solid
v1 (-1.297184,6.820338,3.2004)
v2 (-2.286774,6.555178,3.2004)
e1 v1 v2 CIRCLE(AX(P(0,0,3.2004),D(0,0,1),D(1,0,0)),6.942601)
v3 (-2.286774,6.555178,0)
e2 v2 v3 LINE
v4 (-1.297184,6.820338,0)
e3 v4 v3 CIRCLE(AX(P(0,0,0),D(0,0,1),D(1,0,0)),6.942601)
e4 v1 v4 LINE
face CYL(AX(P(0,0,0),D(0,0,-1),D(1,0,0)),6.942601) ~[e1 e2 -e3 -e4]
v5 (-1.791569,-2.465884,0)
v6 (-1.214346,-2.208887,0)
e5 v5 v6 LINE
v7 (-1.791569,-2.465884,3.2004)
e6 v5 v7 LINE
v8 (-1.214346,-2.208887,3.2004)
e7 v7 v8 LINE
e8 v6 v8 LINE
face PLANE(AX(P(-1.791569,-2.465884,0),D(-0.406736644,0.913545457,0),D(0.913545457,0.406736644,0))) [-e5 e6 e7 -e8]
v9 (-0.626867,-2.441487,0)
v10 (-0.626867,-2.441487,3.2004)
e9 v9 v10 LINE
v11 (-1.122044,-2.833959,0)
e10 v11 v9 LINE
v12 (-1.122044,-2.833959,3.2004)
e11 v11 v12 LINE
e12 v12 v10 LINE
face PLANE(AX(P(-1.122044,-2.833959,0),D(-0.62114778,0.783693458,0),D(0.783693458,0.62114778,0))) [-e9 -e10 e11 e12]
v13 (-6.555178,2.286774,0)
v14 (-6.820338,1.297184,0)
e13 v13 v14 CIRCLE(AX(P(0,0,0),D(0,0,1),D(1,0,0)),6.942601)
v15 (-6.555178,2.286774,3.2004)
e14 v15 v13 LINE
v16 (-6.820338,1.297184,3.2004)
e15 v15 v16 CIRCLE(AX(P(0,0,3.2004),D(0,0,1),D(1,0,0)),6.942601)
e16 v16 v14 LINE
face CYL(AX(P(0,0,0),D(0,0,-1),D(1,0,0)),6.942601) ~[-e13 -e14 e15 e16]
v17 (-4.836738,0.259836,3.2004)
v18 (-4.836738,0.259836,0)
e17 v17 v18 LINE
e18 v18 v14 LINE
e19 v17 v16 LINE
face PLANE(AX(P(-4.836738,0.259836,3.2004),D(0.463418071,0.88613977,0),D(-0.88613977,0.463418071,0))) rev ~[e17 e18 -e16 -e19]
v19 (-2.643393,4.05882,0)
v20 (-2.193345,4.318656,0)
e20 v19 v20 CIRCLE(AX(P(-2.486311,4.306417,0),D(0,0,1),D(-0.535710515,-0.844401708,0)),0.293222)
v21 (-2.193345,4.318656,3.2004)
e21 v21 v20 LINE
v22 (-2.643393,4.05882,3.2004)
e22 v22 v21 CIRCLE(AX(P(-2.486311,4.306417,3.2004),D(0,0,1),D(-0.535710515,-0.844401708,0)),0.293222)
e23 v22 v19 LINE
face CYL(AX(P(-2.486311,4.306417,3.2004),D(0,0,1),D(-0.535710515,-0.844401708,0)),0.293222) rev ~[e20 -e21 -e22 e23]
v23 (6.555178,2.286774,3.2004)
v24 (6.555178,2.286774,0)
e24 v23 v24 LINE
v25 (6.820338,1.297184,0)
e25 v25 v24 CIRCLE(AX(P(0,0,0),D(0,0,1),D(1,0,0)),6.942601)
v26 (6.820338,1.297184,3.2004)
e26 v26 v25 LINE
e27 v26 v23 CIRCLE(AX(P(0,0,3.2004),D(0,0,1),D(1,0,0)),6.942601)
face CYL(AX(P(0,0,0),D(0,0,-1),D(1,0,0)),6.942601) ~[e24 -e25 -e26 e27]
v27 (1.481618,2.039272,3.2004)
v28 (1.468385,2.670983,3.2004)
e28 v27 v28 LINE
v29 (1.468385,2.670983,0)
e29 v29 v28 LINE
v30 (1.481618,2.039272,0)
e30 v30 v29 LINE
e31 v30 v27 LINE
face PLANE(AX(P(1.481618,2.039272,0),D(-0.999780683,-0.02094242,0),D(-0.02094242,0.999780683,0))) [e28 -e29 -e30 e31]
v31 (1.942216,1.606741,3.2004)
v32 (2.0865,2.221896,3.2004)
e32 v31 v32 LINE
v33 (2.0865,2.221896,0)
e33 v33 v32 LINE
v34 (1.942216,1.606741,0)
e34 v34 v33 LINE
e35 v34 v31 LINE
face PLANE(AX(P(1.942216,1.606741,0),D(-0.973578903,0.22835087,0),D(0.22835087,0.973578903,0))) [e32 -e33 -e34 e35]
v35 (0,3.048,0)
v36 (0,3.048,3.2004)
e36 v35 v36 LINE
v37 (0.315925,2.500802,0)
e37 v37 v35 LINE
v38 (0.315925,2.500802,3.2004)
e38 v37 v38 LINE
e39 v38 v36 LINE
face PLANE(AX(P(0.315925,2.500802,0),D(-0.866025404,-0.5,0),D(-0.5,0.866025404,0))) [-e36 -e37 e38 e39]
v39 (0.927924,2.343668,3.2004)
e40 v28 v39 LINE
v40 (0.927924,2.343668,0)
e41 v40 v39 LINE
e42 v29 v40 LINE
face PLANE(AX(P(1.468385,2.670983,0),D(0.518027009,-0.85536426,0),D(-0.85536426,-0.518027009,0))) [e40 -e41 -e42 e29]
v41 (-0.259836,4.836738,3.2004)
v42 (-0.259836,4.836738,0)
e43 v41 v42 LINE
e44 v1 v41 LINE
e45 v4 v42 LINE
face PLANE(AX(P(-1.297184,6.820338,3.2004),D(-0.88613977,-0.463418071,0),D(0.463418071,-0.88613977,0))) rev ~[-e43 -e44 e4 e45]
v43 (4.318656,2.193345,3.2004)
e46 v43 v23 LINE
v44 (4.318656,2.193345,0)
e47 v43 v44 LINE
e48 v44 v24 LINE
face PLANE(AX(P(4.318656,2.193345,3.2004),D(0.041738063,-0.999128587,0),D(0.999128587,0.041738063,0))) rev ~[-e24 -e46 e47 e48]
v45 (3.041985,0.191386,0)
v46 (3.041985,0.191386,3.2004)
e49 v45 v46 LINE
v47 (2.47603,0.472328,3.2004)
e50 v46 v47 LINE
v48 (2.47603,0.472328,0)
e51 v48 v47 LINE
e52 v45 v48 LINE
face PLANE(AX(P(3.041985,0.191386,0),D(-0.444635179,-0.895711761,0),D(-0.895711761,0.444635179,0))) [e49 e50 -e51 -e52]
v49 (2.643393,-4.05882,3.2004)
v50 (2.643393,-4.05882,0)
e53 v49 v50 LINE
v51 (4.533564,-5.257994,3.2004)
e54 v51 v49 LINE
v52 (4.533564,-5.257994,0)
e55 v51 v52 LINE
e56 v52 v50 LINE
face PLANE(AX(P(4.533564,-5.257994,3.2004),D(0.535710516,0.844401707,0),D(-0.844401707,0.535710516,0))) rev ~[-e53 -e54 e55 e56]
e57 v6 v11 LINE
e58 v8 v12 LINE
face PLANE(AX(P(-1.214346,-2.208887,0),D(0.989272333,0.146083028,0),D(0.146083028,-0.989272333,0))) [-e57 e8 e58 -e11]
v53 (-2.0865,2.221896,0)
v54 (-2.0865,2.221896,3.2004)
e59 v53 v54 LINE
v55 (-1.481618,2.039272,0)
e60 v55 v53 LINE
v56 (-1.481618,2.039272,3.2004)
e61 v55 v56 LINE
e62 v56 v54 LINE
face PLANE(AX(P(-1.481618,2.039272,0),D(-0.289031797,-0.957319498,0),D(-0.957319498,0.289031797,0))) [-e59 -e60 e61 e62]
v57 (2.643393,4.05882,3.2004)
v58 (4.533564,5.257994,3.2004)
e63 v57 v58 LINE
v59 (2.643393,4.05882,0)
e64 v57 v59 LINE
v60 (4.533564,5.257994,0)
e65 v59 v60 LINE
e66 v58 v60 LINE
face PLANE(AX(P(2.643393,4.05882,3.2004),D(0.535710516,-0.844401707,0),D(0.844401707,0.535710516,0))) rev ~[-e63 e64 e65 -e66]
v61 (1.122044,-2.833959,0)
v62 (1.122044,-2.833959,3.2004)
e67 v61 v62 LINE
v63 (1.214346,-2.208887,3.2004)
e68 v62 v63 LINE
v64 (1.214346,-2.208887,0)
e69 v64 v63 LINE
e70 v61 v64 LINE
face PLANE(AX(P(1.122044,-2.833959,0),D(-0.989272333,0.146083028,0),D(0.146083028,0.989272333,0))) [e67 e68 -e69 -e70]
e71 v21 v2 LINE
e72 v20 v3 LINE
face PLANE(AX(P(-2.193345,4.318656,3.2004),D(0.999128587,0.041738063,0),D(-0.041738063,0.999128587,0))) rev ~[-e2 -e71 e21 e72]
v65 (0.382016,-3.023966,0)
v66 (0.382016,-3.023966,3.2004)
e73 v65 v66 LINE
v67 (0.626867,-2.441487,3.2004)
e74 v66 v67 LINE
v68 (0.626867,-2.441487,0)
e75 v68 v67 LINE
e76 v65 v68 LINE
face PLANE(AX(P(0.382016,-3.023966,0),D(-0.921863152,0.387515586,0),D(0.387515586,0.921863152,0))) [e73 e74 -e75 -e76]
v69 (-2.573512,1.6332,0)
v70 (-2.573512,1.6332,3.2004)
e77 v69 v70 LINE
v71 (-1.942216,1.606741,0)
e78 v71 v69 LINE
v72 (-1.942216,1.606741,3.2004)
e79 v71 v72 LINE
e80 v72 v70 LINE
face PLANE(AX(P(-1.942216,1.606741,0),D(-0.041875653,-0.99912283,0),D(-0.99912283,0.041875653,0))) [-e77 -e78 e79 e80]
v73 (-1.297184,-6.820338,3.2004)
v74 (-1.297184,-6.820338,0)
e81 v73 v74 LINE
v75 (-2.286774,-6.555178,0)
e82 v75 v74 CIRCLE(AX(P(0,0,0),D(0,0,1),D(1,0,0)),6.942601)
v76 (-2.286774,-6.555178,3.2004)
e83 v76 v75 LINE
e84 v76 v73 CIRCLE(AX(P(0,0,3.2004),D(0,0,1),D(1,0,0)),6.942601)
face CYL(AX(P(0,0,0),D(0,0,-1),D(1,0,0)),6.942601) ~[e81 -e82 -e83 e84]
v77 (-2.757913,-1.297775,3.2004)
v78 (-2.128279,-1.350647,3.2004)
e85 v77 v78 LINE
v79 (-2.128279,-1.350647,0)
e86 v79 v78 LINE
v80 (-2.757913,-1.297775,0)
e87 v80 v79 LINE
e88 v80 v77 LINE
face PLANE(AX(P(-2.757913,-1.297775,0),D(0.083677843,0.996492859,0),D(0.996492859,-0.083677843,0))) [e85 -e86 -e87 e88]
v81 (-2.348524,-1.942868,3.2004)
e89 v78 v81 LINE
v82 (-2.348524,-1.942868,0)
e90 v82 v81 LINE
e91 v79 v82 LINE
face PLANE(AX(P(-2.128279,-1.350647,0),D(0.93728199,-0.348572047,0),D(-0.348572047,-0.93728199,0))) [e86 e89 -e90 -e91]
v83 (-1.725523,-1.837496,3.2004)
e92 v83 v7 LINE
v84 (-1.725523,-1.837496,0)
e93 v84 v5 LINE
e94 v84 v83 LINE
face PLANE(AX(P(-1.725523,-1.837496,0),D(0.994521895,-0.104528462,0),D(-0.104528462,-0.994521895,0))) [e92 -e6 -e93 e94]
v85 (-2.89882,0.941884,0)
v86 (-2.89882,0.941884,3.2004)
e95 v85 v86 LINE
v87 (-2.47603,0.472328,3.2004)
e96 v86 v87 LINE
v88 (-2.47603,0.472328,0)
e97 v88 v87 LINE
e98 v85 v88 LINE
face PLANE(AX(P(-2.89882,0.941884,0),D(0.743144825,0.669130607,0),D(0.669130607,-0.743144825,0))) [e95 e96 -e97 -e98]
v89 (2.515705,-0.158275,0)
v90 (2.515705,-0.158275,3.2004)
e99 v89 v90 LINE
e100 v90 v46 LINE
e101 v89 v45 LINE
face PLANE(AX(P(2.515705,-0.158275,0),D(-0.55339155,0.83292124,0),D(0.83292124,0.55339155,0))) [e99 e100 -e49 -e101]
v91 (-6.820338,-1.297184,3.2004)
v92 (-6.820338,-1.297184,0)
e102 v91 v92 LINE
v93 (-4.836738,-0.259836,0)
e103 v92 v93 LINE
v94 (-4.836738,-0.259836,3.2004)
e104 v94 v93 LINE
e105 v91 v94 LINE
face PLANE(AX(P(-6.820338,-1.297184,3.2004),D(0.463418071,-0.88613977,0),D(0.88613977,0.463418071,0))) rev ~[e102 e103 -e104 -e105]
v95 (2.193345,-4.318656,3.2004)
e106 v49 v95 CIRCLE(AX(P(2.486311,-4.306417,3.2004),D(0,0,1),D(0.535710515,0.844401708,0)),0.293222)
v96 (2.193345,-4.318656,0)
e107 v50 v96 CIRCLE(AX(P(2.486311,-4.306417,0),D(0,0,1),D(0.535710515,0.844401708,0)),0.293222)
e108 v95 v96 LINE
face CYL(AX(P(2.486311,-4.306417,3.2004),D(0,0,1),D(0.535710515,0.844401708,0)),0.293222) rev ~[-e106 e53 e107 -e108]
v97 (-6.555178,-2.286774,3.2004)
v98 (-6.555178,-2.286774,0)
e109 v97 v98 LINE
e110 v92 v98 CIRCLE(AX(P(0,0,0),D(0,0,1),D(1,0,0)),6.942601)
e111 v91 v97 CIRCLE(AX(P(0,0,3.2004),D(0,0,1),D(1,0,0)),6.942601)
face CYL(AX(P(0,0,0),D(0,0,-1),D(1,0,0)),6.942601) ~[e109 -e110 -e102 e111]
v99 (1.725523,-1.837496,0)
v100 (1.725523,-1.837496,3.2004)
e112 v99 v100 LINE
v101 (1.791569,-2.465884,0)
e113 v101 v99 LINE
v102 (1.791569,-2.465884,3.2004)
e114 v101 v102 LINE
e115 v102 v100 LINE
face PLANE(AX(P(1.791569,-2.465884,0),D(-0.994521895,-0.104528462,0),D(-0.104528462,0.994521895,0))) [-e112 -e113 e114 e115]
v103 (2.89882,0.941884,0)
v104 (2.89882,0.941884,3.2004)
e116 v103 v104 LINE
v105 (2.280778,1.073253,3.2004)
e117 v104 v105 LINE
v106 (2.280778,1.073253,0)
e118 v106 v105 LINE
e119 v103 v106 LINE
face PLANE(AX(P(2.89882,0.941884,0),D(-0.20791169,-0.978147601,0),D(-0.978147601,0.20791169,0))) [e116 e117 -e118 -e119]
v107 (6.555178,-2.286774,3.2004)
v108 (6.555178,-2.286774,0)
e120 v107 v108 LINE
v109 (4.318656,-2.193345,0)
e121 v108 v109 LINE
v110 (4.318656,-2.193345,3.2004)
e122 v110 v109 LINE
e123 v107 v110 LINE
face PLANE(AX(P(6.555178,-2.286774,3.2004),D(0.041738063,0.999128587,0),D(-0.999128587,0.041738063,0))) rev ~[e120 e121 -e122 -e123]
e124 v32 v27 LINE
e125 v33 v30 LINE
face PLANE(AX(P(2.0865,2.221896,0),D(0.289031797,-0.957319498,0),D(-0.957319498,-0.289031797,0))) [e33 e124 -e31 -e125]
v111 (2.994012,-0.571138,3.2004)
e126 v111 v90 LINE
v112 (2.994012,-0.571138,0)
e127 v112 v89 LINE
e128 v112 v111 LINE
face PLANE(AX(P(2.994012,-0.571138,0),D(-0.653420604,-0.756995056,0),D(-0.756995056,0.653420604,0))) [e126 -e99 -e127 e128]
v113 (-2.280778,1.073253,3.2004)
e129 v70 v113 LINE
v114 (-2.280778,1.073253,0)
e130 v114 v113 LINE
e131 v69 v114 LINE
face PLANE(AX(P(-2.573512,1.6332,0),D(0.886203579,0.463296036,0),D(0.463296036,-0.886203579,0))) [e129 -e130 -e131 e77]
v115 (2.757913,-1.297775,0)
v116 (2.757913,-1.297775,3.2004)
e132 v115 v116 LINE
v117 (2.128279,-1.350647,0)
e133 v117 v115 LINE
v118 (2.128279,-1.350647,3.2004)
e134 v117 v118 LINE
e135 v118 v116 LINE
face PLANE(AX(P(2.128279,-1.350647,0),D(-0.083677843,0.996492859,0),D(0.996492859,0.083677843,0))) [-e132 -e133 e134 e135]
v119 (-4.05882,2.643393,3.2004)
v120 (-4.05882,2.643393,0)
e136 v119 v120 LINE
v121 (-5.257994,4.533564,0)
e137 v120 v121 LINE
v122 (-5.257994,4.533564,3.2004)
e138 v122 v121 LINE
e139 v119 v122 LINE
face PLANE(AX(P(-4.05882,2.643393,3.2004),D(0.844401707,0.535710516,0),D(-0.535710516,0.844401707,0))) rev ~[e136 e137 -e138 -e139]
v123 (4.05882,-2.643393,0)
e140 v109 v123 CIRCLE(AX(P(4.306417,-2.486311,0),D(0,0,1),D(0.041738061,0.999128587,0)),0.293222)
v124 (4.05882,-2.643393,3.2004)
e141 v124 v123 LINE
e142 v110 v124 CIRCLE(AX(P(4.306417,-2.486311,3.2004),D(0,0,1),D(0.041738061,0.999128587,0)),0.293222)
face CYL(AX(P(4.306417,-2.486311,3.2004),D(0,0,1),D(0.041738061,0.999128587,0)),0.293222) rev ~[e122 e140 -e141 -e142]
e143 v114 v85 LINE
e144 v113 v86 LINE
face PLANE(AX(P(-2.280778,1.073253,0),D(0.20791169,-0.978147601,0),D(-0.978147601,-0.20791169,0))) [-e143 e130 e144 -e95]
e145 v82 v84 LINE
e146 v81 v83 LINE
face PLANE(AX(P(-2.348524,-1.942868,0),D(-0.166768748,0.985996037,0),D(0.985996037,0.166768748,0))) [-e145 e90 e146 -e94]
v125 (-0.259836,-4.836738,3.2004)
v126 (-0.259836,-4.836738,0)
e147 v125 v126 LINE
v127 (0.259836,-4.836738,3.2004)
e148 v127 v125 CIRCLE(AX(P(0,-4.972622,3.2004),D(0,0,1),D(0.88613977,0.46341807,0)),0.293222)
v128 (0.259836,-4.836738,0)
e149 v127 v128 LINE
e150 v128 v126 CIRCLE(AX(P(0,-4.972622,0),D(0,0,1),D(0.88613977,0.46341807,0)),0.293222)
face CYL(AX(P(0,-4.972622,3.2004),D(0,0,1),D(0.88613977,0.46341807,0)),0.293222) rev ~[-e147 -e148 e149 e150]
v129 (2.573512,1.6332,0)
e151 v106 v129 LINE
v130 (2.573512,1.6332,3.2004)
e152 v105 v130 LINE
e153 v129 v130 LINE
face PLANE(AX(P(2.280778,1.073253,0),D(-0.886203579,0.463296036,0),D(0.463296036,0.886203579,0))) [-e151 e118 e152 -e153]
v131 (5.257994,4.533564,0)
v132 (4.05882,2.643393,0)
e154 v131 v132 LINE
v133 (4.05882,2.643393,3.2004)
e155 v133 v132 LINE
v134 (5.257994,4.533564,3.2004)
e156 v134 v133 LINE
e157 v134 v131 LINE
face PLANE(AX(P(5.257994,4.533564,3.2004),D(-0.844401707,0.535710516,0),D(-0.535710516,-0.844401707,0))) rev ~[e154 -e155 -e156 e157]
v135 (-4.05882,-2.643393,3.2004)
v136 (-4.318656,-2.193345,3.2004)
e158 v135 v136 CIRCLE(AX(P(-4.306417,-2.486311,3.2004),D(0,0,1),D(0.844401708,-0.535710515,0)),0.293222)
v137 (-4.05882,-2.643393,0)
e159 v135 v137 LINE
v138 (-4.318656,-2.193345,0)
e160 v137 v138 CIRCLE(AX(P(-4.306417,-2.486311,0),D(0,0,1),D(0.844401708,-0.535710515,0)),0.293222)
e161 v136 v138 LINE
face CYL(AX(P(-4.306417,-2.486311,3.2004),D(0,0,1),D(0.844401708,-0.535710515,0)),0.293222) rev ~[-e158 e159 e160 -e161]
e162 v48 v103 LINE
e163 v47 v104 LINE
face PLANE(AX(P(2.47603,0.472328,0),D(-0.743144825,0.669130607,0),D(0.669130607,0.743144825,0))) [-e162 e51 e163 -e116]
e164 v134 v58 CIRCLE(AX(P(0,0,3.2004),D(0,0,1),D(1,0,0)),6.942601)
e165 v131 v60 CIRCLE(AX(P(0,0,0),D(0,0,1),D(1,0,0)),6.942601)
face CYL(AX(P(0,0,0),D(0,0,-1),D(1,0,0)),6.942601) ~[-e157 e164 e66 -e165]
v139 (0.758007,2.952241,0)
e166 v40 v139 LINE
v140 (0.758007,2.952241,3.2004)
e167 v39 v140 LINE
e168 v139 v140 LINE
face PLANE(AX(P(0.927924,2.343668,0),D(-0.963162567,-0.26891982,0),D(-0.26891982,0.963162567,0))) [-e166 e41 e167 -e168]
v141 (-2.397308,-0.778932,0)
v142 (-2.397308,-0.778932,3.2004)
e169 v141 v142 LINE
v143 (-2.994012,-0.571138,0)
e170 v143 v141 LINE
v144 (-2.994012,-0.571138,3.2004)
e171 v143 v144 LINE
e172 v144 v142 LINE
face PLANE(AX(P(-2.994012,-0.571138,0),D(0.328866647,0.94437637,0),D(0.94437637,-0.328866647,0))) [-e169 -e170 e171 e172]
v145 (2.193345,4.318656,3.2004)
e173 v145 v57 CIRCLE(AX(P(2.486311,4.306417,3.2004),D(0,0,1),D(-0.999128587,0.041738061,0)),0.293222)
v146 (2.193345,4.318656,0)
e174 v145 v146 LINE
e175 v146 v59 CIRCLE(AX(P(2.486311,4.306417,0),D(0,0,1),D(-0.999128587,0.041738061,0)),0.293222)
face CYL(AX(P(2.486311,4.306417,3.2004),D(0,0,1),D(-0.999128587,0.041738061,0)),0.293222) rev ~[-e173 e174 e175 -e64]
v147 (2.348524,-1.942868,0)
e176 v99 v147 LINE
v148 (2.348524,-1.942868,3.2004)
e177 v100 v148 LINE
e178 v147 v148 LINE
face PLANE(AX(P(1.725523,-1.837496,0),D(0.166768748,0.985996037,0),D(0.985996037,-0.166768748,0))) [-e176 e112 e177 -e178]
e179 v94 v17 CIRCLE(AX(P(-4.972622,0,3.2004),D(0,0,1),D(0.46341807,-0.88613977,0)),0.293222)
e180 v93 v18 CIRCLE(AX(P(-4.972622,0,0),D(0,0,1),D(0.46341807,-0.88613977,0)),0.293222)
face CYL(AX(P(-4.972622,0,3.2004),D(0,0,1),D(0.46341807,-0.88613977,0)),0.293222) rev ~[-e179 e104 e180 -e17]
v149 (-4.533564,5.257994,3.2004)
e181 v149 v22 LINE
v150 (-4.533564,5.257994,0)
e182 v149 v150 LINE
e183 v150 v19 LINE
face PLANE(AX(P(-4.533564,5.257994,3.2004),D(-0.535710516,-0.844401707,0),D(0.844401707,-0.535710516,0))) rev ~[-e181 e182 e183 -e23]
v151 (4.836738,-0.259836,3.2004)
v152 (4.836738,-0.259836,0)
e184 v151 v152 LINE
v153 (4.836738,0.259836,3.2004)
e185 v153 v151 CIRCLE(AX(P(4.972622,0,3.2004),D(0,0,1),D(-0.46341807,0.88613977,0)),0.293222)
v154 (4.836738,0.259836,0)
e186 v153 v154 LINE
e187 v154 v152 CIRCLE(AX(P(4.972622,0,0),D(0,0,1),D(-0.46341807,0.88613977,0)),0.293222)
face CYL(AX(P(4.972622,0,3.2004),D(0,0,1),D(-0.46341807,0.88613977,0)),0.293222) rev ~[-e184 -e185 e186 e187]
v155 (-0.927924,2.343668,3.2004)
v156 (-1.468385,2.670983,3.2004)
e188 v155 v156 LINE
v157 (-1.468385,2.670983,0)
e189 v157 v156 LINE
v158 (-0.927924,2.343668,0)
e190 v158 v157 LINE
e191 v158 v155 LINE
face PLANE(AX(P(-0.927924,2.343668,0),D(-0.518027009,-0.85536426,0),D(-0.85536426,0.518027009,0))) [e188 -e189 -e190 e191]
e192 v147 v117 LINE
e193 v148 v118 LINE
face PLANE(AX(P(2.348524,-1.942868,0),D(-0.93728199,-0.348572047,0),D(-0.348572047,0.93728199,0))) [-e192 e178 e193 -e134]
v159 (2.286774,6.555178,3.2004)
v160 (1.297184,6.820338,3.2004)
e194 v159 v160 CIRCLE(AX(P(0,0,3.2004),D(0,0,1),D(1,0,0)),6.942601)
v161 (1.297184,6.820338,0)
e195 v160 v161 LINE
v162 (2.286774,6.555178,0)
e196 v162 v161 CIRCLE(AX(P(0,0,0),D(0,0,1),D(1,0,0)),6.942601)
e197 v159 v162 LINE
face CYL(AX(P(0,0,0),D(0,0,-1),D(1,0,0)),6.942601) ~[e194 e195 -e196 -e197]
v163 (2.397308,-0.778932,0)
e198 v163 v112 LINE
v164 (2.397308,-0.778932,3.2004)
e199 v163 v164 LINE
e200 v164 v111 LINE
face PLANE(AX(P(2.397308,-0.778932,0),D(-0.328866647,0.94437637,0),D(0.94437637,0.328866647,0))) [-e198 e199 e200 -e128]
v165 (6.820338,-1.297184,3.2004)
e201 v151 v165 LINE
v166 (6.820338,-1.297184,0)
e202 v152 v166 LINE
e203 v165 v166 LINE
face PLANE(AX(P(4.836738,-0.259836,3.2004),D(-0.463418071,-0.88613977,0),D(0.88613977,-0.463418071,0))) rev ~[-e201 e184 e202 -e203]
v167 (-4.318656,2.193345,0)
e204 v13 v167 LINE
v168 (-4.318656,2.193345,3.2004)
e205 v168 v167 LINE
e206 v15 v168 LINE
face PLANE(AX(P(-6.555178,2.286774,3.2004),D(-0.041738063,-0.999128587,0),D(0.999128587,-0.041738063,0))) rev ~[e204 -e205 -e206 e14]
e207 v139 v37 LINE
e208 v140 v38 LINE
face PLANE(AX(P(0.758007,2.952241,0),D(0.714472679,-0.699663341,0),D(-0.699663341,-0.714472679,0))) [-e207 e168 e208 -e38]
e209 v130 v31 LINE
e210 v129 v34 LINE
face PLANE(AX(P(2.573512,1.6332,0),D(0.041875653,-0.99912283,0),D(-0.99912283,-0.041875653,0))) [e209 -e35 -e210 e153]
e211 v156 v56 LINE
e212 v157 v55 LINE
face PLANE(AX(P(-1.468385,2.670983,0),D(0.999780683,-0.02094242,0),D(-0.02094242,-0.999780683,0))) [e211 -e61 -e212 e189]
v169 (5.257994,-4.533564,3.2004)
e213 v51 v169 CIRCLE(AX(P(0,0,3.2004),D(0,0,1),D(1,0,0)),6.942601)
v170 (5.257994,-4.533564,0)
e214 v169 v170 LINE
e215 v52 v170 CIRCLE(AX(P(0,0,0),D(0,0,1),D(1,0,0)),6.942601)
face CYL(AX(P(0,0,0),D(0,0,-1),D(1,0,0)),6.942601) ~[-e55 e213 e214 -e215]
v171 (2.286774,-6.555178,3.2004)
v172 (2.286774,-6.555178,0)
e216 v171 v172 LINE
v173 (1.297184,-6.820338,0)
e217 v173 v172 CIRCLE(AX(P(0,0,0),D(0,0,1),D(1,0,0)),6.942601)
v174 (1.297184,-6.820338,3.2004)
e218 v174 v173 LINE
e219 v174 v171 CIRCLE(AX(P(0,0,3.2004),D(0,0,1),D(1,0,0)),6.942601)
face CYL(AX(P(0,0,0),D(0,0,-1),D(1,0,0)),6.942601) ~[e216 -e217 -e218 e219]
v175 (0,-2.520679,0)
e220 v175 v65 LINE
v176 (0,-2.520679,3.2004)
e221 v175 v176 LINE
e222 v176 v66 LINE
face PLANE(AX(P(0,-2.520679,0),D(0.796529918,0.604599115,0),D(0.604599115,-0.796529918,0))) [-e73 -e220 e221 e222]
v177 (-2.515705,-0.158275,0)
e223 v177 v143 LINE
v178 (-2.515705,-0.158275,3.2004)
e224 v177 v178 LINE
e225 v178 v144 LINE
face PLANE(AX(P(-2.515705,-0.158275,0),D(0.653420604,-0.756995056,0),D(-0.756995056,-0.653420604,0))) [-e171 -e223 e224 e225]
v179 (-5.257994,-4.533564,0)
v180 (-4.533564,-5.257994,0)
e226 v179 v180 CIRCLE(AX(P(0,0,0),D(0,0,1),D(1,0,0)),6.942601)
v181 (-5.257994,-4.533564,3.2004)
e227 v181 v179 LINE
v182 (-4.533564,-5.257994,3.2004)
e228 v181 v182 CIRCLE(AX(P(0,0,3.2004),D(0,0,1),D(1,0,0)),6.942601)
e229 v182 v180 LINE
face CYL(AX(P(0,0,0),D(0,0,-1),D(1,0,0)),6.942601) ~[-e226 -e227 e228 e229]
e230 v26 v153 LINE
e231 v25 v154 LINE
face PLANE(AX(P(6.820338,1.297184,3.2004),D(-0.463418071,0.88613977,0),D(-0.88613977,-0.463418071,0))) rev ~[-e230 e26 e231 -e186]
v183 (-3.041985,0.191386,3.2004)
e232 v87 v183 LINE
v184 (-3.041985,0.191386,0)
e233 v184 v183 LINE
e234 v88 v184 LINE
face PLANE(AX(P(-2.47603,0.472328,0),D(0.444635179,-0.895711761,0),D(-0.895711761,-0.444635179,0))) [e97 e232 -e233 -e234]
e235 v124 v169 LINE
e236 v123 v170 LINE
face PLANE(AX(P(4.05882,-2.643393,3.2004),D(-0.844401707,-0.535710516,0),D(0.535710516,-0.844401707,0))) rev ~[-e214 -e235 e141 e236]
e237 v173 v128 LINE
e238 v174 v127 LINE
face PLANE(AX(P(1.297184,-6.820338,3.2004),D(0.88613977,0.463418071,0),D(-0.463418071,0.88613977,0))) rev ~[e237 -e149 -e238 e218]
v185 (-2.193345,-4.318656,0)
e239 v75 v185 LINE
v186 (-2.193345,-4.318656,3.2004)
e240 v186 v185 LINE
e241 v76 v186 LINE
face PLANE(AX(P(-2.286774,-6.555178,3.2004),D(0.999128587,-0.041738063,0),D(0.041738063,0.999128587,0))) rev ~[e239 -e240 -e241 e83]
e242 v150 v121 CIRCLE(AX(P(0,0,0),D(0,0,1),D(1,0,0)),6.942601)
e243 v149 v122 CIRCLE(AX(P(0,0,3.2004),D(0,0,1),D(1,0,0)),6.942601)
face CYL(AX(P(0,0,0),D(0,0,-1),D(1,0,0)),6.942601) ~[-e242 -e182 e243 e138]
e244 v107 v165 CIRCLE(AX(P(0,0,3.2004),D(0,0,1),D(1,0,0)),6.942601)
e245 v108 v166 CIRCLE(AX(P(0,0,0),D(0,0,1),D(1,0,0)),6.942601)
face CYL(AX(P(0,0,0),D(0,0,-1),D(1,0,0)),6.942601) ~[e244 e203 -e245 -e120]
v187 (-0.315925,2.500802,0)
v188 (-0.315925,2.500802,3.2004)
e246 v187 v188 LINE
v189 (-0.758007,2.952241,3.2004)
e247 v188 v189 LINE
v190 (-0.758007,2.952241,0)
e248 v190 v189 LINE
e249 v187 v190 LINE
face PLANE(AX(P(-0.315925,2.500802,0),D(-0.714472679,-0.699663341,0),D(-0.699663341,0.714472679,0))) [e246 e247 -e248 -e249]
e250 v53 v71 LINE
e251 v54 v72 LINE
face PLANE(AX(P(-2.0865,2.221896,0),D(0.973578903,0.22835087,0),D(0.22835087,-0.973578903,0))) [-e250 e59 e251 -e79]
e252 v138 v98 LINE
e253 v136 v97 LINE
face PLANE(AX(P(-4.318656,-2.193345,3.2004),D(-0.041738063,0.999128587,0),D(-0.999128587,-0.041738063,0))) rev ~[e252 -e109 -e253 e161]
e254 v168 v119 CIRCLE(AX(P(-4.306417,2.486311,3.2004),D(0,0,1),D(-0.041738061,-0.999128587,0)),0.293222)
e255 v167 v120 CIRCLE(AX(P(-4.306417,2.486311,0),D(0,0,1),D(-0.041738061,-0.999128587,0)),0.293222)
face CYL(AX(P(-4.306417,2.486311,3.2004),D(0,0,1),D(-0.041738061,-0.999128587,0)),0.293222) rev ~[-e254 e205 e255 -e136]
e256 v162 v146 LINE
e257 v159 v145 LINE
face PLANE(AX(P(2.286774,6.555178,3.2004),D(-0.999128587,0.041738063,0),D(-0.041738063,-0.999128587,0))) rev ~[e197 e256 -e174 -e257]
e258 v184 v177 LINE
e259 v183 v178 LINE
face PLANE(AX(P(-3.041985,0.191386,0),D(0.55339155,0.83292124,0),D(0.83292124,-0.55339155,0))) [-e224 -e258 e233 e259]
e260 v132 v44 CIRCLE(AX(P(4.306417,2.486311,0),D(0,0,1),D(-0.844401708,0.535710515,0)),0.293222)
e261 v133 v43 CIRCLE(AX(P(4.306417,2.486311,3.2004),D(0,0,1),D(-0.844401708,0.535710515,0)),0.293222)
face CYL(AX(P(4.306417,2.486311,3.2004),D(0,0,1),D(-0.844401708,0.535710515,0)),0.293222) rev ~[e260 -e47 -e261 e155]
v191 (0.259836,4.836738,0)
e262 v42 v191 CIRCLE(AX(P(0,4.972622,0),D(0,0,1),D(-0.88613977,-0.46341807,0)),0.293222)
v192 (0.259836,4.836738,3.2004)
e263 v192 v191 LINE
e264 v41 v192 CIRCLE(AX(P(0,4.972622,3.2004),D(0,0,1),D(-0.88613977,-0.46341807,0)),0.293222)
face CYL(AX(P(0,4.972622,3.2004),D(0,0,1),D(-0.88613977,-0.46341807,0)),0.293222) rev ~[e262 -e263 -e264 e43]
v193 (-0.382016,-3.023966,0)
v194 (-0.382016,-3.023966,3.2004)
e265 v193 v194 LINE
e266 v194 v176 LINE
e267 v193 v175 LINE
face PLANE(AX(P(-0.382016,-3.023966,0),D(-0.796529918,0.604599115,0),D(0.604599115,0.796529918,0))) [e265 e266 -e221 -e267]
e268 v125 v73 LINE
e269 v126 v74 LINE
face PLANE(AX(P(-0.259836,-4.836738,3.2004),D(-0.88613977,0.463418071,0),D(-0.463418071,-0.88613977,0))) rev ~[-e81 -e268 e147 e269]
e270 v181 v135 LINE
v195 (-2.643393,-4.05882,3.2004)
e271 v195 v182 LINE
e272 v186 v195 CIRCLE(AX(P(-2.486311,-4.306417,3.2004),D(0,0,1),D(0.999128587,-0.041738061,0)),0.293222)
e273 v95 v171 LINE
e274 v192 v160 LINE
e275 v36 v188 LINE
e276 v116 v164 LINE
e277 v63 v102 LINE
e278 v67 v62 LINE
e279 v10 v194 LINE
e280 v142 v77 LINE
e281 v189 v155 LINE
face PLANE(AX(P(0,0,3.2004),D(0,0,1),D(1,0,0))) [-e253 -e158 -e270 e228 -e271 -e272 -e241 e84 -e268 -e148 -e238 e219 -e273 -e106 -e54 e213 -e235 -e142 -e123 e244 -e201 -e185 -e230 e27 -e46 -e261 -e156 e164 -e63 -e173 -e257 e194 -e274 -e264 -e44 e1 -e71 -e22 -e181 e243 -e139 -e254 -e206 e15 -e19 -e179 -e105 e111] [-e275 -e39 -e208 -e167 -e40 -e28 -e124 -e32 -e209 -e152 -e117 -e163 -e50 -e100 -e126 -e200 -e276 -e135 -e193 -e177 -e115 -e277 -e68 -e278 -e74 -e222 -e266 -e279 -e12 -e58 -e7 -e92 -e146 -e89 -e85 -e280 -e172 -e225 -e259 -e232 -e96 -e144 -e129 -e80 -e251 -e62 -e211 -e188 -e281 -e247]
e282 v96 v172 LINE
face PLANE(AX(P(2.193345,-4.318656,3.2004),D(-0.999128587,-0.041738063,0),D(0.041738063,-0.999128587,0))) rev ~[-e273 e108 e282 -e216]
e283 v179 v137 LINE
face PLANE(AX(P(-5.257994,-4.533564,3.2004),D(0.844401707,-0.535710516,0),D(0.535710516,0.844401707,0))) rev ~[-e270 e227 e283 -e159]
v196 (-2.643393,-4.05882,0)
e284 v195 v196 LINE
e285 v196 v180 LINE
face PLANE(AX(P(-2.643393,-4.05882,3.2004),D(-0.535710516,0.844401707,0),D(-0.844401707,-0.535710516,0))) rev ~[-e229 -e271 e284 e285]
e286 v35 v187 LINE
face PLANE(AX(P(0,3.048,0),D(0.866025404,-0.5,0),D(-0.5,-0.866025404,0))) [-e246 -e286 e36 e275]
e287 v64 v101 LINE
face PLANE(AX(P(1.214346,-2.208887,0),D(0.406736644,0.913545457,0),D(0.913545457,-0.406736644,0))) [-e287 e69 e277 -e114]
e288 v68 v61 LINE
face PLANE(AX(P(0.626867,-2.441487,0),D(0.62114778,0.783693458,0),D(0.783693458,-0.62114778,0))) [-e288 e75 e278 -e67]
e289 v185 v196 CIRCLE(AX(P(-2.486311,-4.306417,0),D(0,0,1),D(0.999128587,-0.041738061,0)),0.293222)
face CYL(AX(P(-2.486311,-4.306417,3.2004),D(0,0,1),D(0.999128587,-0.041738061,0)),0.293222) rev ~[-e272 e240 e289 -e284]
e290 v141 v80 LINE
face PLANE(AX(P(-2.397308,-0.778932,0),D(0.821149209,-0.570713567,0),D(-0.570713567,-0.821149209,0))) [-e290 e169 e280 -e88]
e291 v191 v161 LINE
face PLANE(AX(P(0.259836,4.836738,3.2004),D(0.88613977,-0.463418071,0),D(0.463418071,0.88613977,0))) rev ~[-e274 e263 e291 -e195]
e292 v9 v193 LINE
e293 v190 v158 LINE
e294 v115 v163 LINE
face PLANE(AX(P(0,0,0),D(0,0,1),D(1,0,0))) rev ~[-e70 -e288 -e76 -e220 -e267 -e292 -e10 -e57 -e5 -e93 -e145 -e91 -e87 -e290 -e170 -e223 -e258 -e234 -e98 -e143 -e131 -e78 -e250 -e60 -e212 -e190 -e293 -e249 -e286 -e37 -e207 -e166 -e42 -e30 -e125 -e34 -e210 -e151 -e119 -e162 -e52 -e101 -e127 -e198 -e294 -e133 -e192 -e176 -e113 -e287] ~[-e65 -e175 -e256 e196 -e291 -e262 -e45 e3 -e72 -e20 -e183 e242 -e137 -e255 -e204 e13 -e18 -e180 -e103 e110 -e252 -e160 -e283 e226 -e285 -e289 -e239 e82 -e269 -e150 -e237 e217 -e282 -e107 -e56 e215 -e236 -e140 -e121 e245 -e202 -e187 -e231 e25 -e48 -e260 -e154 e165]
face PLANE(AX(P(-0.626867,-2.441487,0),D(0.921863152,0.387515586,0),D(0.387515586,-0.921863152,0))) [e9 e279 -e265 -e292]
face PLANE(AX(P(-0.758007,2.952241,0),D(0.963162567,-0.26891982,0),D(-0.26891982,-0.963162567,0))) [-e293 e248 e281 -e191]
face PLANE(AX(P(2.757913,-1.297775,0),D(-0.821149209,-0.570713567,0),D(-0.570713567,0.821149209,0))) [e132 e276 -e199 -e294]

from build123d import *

# Parameters (mm, degrees)
SKETCH1_R           = 6.942600547
BOSS_EXTRUDE1_DEPTH = 3.2004
CUT_EXTRUDE1_DEPTH  = 3.2004


with BuildPart() as part:
    # Sketch1 → Boss-Extrude1 (new body)
    with BuildSketch(Plane.XY):
        Circle(SKETCH1_R)
        Polygon((0, 3.048), (-0.315924789, 2.500802214), (-0.758006776, 2.952241475), (-0.927923651, 2.343667613), (-1.468385199, 2.670982761), (-1.481617658, 2.039271757), (-2.086499579, 2.221896376), (-1.942216178, 1.606740957), (-2.573511517, 1.633200071), (-2.280778112, 1.073252713), (-2.898820262, 0.941883799), (-2.47603037, 0.472328054), (-3.041985468, 0.191385504), (-2.515704533, -0.158274714), (-2.99401154, -0.571138247), (-2.397307729, -0.778932499), (-2.757912856, -1.297775281), (-2.128279263, -1.350647091), (-2.348524364, -1.942868321), (-1.725523184, -1.837495558), (-1.791569449, -2.465883799), (-1.214346137, -2.208887422), (-1.122043637, -2.833958729), (-0.626867256, -2.441486766), (-0.382015696, -3.02396561), (0, -2.520678517), (0.382015696, -3.02396561), (0.626867256, -2.441486766), (1.122043637, -2.833958729), (1.214346137, -2.208887422), (1.791569449, -2.465883799), (1.725523184, -1.837495558), (2.348524364, -1.942868321), (2.128279263, -1.350647091), (2.757912856, -1.297775281), (2.397307729, -0.778932499), (2.99401154, -0.571138247), (2.515704533, -0.158274714), (3.041985468, 0.191385504), (2.47603037, 0.472328054), (2.898820262, 0.941883799), (2.280778112, 1.073252713), (2.573511517, 1.633200071), (1.942216178, 1.606740957), (2.086499579, 2.221896376), (1.481617658, 2.039271757), (1.468385199, 2.670982761), (0.927923651, 2.343667613), (0.758006776, 2.952241475), (0.315924789, 2.500802214), align=None, mode=Mode.SUBTRACT)
    extrude(amount=BOSS_EXTRUDE1_DEPTH)

    # Sketch2 → Cut-Extrude1 (cut)
    with BuildSketch(Plane.XY.offset(3.2004)):
        with BuildLine():
            Line((-1.297184474, 6.820338319), (-0.259835526, 4.836738163))
            ThreePointArc((-0.259835526, 4.836738163), (0, 4.679400627), (0.259835526, 4.836738163))
            Line((0.259835526, 4.836738163), (1.297184474, 6.820338319))
            ThreePointArc((1.297184474, 6.820338319), (0, 6.942600547), (-1.297184474, 6.820338319))
        make_face()
        with BuildLine():
            Line((2.643393248, 4.058820358), (4.533563867, 5.25799401))
            ThreePointArc((4.533563867, 5.25799401), (3.471300273, 6.012468442), (2.286774452, 6.555178484))
            Line((2.286774452, 6.555178484), (2.193344915, 4.318655884))
            ThreePointArc((2.193344915, 4.318655884), (2.339700314, 4.052479818), (2.643393248, 4.058820358))
        make_face()
        with BuildLine():
            Line((4.318655884, 2.193344915), (6.555178484, 2.286774452))
            ThreePointArc((6.555178484, 2.286774452), (6.012468442, 3.471300273), (5.25799401, 4.533563867))
            Line((5.25799401, 4.533563867), (4.058820358, 2.643393248))
            ThreePointArc((4.058820358, 2.643393248), (4.052479818, 2.339700314), (4.318655884, 2.193344915))
        make_face()
        with BuildLine():
            Line((4.836738163, -0.259835526), (6.820338319, -1.297184474))
            ThreePointArc((6.820338319, -1.297184474), (6.942600547, 0), (6.820338319, 1.297184474))
            Line((6.820338319, 1.297184474), (4.836738163, 0.259835526))
            ThreePointArc((4.836738163, 0.259835526), (4.679400627, 0), (4.836738163, -0.259835526))
        make_face()
        with BuildLine():
            Line((4.058820358, -2.643393248), (5.25799401, -4.533563867))
            ThreePointArc((5.25799401, -4.533563867), (6.012468442, -3.471300273), (6.555178484, -2.286774452))
            Line((6.555178484, -2.286774452), (4.318655884, -2.193344915))
            ThreePointArc((4.318655884, -2.193344915), (4.052479818, -2.339700314), (4.058820358, -2.643393248))
        make_face()
        with BuildLine():
            Line((2.193344915, -4.318655884), (2.286774452, -6.555178484))
            ThreePointArc((2.286774452, -6.555178484), (3.471300273, -6.012468442), (4.533563867, -5.25799401))
            Line((4.533563867, -5.25799401), (2.643393248, -4.058820358))
            ThreePointArc((2.643393248, -4.058820358), (2.339700314, -4.052479818), (2.193344915, -4.318655884))
        make_face()
        with BuildLine():
            Line((-0.259835526, -4.836738163), (-1.297184474, -6.820338319))
            ThreePointArc((-1.297184474, -6.820338319), (0, -6.942600547), (1.297184474, -6.820338319))
            Line((1.297184474, -6.820338319), (0.259835526, -4.836738163))
            ThreePointArc((0.259835526, -4.836738163), (0, -4.679400627), (-0.259835526, -4.836738163))
        make_face()
        with BuildLine():
            Line((-2.643393248, -4.058820358), (-4.533563867, -5.25799401))
            ThreePointArc((-4.533563867, -5.25799401), (-3.471300273, -6.012468442), (-2.286774452, -6.555178484))
            Line((-2.286774452, -6.555178484), (-2.193344915, -4.318655884))
            ThreePointArc((-2.193344915, -4.318655884), (-2.339700314, -4.052479818), (-2.643393248, -4.058820358))
        make_face()
        with BuildLine():
            Line((-4.318655884, -2.193344915), (-6.555178484, -2.286774452))
            ThreePointArc((-6.555178484, -2.286774452), (-6.012468442, -3.471300273), (-5.25799401, -4.533563867))
            Line((-5.25799401, -4.533563867), (-4.058820358, -2.643393248))
            ThreePointArc((-4.058820358, -2.643393248), (-4.052479818, -2.339700314), (-4.318655884, -2.193344915))
        make_face()
        with BuildLine():
            Line((-4.836738163, 0.259835526), (-6.820338319, 1.297184474))
            ThreePointArc((-6.820338319, 1.297184474), (-6.942600547, 0), (-6.820338319, -1.297184474))
            Line((-6.820338319, -1.297184474), (-4.836738163, -0.259835526))
            ThreePointArc((-4.836738163, -0.259835526), (-4.679400627, 0), (-4.836738163, 0.259835526))
        make_face()
        with BuildLine():
            Line((-4.058820358, 2.643393248), (-5.25799401, 4.533563867))
            ThreePointArc((-5.25799401, 4.533563867), (-6.012468442, 3.471300273), (-6.555178484, 2.286774452))
            Line((-6.555178484, 2.286774452), (-4.318655884, 2.193344915))
            ThreePointArc((-4.318655884, 2.193344915), (-4.052479818, 2.339700314), (-4.058820358, 2.643393248))
        make_face()
        with BuildLine():
            Line((-2.193344915, 4.318655884), (-2.286774452, 6.555178484))
            ThreePointArc((-2.286774452, 6.555178484), (-3.471300273, 6.012468442), (-4.533563867, 5.25799401))
            Line((-4.533563867, 5.25799401), (-2.643393248, 4.058820358))
            ThreePointArc((-2.643393248, 4.058820358), (-2.339700314, 4.052479818), (-2.193344915, 4.318655884))
        make_face()
    extrude(amount=-CUT_EXTRUDE1_DEPTH, mode=Mode.SUBTRACT)


solid = part.part
